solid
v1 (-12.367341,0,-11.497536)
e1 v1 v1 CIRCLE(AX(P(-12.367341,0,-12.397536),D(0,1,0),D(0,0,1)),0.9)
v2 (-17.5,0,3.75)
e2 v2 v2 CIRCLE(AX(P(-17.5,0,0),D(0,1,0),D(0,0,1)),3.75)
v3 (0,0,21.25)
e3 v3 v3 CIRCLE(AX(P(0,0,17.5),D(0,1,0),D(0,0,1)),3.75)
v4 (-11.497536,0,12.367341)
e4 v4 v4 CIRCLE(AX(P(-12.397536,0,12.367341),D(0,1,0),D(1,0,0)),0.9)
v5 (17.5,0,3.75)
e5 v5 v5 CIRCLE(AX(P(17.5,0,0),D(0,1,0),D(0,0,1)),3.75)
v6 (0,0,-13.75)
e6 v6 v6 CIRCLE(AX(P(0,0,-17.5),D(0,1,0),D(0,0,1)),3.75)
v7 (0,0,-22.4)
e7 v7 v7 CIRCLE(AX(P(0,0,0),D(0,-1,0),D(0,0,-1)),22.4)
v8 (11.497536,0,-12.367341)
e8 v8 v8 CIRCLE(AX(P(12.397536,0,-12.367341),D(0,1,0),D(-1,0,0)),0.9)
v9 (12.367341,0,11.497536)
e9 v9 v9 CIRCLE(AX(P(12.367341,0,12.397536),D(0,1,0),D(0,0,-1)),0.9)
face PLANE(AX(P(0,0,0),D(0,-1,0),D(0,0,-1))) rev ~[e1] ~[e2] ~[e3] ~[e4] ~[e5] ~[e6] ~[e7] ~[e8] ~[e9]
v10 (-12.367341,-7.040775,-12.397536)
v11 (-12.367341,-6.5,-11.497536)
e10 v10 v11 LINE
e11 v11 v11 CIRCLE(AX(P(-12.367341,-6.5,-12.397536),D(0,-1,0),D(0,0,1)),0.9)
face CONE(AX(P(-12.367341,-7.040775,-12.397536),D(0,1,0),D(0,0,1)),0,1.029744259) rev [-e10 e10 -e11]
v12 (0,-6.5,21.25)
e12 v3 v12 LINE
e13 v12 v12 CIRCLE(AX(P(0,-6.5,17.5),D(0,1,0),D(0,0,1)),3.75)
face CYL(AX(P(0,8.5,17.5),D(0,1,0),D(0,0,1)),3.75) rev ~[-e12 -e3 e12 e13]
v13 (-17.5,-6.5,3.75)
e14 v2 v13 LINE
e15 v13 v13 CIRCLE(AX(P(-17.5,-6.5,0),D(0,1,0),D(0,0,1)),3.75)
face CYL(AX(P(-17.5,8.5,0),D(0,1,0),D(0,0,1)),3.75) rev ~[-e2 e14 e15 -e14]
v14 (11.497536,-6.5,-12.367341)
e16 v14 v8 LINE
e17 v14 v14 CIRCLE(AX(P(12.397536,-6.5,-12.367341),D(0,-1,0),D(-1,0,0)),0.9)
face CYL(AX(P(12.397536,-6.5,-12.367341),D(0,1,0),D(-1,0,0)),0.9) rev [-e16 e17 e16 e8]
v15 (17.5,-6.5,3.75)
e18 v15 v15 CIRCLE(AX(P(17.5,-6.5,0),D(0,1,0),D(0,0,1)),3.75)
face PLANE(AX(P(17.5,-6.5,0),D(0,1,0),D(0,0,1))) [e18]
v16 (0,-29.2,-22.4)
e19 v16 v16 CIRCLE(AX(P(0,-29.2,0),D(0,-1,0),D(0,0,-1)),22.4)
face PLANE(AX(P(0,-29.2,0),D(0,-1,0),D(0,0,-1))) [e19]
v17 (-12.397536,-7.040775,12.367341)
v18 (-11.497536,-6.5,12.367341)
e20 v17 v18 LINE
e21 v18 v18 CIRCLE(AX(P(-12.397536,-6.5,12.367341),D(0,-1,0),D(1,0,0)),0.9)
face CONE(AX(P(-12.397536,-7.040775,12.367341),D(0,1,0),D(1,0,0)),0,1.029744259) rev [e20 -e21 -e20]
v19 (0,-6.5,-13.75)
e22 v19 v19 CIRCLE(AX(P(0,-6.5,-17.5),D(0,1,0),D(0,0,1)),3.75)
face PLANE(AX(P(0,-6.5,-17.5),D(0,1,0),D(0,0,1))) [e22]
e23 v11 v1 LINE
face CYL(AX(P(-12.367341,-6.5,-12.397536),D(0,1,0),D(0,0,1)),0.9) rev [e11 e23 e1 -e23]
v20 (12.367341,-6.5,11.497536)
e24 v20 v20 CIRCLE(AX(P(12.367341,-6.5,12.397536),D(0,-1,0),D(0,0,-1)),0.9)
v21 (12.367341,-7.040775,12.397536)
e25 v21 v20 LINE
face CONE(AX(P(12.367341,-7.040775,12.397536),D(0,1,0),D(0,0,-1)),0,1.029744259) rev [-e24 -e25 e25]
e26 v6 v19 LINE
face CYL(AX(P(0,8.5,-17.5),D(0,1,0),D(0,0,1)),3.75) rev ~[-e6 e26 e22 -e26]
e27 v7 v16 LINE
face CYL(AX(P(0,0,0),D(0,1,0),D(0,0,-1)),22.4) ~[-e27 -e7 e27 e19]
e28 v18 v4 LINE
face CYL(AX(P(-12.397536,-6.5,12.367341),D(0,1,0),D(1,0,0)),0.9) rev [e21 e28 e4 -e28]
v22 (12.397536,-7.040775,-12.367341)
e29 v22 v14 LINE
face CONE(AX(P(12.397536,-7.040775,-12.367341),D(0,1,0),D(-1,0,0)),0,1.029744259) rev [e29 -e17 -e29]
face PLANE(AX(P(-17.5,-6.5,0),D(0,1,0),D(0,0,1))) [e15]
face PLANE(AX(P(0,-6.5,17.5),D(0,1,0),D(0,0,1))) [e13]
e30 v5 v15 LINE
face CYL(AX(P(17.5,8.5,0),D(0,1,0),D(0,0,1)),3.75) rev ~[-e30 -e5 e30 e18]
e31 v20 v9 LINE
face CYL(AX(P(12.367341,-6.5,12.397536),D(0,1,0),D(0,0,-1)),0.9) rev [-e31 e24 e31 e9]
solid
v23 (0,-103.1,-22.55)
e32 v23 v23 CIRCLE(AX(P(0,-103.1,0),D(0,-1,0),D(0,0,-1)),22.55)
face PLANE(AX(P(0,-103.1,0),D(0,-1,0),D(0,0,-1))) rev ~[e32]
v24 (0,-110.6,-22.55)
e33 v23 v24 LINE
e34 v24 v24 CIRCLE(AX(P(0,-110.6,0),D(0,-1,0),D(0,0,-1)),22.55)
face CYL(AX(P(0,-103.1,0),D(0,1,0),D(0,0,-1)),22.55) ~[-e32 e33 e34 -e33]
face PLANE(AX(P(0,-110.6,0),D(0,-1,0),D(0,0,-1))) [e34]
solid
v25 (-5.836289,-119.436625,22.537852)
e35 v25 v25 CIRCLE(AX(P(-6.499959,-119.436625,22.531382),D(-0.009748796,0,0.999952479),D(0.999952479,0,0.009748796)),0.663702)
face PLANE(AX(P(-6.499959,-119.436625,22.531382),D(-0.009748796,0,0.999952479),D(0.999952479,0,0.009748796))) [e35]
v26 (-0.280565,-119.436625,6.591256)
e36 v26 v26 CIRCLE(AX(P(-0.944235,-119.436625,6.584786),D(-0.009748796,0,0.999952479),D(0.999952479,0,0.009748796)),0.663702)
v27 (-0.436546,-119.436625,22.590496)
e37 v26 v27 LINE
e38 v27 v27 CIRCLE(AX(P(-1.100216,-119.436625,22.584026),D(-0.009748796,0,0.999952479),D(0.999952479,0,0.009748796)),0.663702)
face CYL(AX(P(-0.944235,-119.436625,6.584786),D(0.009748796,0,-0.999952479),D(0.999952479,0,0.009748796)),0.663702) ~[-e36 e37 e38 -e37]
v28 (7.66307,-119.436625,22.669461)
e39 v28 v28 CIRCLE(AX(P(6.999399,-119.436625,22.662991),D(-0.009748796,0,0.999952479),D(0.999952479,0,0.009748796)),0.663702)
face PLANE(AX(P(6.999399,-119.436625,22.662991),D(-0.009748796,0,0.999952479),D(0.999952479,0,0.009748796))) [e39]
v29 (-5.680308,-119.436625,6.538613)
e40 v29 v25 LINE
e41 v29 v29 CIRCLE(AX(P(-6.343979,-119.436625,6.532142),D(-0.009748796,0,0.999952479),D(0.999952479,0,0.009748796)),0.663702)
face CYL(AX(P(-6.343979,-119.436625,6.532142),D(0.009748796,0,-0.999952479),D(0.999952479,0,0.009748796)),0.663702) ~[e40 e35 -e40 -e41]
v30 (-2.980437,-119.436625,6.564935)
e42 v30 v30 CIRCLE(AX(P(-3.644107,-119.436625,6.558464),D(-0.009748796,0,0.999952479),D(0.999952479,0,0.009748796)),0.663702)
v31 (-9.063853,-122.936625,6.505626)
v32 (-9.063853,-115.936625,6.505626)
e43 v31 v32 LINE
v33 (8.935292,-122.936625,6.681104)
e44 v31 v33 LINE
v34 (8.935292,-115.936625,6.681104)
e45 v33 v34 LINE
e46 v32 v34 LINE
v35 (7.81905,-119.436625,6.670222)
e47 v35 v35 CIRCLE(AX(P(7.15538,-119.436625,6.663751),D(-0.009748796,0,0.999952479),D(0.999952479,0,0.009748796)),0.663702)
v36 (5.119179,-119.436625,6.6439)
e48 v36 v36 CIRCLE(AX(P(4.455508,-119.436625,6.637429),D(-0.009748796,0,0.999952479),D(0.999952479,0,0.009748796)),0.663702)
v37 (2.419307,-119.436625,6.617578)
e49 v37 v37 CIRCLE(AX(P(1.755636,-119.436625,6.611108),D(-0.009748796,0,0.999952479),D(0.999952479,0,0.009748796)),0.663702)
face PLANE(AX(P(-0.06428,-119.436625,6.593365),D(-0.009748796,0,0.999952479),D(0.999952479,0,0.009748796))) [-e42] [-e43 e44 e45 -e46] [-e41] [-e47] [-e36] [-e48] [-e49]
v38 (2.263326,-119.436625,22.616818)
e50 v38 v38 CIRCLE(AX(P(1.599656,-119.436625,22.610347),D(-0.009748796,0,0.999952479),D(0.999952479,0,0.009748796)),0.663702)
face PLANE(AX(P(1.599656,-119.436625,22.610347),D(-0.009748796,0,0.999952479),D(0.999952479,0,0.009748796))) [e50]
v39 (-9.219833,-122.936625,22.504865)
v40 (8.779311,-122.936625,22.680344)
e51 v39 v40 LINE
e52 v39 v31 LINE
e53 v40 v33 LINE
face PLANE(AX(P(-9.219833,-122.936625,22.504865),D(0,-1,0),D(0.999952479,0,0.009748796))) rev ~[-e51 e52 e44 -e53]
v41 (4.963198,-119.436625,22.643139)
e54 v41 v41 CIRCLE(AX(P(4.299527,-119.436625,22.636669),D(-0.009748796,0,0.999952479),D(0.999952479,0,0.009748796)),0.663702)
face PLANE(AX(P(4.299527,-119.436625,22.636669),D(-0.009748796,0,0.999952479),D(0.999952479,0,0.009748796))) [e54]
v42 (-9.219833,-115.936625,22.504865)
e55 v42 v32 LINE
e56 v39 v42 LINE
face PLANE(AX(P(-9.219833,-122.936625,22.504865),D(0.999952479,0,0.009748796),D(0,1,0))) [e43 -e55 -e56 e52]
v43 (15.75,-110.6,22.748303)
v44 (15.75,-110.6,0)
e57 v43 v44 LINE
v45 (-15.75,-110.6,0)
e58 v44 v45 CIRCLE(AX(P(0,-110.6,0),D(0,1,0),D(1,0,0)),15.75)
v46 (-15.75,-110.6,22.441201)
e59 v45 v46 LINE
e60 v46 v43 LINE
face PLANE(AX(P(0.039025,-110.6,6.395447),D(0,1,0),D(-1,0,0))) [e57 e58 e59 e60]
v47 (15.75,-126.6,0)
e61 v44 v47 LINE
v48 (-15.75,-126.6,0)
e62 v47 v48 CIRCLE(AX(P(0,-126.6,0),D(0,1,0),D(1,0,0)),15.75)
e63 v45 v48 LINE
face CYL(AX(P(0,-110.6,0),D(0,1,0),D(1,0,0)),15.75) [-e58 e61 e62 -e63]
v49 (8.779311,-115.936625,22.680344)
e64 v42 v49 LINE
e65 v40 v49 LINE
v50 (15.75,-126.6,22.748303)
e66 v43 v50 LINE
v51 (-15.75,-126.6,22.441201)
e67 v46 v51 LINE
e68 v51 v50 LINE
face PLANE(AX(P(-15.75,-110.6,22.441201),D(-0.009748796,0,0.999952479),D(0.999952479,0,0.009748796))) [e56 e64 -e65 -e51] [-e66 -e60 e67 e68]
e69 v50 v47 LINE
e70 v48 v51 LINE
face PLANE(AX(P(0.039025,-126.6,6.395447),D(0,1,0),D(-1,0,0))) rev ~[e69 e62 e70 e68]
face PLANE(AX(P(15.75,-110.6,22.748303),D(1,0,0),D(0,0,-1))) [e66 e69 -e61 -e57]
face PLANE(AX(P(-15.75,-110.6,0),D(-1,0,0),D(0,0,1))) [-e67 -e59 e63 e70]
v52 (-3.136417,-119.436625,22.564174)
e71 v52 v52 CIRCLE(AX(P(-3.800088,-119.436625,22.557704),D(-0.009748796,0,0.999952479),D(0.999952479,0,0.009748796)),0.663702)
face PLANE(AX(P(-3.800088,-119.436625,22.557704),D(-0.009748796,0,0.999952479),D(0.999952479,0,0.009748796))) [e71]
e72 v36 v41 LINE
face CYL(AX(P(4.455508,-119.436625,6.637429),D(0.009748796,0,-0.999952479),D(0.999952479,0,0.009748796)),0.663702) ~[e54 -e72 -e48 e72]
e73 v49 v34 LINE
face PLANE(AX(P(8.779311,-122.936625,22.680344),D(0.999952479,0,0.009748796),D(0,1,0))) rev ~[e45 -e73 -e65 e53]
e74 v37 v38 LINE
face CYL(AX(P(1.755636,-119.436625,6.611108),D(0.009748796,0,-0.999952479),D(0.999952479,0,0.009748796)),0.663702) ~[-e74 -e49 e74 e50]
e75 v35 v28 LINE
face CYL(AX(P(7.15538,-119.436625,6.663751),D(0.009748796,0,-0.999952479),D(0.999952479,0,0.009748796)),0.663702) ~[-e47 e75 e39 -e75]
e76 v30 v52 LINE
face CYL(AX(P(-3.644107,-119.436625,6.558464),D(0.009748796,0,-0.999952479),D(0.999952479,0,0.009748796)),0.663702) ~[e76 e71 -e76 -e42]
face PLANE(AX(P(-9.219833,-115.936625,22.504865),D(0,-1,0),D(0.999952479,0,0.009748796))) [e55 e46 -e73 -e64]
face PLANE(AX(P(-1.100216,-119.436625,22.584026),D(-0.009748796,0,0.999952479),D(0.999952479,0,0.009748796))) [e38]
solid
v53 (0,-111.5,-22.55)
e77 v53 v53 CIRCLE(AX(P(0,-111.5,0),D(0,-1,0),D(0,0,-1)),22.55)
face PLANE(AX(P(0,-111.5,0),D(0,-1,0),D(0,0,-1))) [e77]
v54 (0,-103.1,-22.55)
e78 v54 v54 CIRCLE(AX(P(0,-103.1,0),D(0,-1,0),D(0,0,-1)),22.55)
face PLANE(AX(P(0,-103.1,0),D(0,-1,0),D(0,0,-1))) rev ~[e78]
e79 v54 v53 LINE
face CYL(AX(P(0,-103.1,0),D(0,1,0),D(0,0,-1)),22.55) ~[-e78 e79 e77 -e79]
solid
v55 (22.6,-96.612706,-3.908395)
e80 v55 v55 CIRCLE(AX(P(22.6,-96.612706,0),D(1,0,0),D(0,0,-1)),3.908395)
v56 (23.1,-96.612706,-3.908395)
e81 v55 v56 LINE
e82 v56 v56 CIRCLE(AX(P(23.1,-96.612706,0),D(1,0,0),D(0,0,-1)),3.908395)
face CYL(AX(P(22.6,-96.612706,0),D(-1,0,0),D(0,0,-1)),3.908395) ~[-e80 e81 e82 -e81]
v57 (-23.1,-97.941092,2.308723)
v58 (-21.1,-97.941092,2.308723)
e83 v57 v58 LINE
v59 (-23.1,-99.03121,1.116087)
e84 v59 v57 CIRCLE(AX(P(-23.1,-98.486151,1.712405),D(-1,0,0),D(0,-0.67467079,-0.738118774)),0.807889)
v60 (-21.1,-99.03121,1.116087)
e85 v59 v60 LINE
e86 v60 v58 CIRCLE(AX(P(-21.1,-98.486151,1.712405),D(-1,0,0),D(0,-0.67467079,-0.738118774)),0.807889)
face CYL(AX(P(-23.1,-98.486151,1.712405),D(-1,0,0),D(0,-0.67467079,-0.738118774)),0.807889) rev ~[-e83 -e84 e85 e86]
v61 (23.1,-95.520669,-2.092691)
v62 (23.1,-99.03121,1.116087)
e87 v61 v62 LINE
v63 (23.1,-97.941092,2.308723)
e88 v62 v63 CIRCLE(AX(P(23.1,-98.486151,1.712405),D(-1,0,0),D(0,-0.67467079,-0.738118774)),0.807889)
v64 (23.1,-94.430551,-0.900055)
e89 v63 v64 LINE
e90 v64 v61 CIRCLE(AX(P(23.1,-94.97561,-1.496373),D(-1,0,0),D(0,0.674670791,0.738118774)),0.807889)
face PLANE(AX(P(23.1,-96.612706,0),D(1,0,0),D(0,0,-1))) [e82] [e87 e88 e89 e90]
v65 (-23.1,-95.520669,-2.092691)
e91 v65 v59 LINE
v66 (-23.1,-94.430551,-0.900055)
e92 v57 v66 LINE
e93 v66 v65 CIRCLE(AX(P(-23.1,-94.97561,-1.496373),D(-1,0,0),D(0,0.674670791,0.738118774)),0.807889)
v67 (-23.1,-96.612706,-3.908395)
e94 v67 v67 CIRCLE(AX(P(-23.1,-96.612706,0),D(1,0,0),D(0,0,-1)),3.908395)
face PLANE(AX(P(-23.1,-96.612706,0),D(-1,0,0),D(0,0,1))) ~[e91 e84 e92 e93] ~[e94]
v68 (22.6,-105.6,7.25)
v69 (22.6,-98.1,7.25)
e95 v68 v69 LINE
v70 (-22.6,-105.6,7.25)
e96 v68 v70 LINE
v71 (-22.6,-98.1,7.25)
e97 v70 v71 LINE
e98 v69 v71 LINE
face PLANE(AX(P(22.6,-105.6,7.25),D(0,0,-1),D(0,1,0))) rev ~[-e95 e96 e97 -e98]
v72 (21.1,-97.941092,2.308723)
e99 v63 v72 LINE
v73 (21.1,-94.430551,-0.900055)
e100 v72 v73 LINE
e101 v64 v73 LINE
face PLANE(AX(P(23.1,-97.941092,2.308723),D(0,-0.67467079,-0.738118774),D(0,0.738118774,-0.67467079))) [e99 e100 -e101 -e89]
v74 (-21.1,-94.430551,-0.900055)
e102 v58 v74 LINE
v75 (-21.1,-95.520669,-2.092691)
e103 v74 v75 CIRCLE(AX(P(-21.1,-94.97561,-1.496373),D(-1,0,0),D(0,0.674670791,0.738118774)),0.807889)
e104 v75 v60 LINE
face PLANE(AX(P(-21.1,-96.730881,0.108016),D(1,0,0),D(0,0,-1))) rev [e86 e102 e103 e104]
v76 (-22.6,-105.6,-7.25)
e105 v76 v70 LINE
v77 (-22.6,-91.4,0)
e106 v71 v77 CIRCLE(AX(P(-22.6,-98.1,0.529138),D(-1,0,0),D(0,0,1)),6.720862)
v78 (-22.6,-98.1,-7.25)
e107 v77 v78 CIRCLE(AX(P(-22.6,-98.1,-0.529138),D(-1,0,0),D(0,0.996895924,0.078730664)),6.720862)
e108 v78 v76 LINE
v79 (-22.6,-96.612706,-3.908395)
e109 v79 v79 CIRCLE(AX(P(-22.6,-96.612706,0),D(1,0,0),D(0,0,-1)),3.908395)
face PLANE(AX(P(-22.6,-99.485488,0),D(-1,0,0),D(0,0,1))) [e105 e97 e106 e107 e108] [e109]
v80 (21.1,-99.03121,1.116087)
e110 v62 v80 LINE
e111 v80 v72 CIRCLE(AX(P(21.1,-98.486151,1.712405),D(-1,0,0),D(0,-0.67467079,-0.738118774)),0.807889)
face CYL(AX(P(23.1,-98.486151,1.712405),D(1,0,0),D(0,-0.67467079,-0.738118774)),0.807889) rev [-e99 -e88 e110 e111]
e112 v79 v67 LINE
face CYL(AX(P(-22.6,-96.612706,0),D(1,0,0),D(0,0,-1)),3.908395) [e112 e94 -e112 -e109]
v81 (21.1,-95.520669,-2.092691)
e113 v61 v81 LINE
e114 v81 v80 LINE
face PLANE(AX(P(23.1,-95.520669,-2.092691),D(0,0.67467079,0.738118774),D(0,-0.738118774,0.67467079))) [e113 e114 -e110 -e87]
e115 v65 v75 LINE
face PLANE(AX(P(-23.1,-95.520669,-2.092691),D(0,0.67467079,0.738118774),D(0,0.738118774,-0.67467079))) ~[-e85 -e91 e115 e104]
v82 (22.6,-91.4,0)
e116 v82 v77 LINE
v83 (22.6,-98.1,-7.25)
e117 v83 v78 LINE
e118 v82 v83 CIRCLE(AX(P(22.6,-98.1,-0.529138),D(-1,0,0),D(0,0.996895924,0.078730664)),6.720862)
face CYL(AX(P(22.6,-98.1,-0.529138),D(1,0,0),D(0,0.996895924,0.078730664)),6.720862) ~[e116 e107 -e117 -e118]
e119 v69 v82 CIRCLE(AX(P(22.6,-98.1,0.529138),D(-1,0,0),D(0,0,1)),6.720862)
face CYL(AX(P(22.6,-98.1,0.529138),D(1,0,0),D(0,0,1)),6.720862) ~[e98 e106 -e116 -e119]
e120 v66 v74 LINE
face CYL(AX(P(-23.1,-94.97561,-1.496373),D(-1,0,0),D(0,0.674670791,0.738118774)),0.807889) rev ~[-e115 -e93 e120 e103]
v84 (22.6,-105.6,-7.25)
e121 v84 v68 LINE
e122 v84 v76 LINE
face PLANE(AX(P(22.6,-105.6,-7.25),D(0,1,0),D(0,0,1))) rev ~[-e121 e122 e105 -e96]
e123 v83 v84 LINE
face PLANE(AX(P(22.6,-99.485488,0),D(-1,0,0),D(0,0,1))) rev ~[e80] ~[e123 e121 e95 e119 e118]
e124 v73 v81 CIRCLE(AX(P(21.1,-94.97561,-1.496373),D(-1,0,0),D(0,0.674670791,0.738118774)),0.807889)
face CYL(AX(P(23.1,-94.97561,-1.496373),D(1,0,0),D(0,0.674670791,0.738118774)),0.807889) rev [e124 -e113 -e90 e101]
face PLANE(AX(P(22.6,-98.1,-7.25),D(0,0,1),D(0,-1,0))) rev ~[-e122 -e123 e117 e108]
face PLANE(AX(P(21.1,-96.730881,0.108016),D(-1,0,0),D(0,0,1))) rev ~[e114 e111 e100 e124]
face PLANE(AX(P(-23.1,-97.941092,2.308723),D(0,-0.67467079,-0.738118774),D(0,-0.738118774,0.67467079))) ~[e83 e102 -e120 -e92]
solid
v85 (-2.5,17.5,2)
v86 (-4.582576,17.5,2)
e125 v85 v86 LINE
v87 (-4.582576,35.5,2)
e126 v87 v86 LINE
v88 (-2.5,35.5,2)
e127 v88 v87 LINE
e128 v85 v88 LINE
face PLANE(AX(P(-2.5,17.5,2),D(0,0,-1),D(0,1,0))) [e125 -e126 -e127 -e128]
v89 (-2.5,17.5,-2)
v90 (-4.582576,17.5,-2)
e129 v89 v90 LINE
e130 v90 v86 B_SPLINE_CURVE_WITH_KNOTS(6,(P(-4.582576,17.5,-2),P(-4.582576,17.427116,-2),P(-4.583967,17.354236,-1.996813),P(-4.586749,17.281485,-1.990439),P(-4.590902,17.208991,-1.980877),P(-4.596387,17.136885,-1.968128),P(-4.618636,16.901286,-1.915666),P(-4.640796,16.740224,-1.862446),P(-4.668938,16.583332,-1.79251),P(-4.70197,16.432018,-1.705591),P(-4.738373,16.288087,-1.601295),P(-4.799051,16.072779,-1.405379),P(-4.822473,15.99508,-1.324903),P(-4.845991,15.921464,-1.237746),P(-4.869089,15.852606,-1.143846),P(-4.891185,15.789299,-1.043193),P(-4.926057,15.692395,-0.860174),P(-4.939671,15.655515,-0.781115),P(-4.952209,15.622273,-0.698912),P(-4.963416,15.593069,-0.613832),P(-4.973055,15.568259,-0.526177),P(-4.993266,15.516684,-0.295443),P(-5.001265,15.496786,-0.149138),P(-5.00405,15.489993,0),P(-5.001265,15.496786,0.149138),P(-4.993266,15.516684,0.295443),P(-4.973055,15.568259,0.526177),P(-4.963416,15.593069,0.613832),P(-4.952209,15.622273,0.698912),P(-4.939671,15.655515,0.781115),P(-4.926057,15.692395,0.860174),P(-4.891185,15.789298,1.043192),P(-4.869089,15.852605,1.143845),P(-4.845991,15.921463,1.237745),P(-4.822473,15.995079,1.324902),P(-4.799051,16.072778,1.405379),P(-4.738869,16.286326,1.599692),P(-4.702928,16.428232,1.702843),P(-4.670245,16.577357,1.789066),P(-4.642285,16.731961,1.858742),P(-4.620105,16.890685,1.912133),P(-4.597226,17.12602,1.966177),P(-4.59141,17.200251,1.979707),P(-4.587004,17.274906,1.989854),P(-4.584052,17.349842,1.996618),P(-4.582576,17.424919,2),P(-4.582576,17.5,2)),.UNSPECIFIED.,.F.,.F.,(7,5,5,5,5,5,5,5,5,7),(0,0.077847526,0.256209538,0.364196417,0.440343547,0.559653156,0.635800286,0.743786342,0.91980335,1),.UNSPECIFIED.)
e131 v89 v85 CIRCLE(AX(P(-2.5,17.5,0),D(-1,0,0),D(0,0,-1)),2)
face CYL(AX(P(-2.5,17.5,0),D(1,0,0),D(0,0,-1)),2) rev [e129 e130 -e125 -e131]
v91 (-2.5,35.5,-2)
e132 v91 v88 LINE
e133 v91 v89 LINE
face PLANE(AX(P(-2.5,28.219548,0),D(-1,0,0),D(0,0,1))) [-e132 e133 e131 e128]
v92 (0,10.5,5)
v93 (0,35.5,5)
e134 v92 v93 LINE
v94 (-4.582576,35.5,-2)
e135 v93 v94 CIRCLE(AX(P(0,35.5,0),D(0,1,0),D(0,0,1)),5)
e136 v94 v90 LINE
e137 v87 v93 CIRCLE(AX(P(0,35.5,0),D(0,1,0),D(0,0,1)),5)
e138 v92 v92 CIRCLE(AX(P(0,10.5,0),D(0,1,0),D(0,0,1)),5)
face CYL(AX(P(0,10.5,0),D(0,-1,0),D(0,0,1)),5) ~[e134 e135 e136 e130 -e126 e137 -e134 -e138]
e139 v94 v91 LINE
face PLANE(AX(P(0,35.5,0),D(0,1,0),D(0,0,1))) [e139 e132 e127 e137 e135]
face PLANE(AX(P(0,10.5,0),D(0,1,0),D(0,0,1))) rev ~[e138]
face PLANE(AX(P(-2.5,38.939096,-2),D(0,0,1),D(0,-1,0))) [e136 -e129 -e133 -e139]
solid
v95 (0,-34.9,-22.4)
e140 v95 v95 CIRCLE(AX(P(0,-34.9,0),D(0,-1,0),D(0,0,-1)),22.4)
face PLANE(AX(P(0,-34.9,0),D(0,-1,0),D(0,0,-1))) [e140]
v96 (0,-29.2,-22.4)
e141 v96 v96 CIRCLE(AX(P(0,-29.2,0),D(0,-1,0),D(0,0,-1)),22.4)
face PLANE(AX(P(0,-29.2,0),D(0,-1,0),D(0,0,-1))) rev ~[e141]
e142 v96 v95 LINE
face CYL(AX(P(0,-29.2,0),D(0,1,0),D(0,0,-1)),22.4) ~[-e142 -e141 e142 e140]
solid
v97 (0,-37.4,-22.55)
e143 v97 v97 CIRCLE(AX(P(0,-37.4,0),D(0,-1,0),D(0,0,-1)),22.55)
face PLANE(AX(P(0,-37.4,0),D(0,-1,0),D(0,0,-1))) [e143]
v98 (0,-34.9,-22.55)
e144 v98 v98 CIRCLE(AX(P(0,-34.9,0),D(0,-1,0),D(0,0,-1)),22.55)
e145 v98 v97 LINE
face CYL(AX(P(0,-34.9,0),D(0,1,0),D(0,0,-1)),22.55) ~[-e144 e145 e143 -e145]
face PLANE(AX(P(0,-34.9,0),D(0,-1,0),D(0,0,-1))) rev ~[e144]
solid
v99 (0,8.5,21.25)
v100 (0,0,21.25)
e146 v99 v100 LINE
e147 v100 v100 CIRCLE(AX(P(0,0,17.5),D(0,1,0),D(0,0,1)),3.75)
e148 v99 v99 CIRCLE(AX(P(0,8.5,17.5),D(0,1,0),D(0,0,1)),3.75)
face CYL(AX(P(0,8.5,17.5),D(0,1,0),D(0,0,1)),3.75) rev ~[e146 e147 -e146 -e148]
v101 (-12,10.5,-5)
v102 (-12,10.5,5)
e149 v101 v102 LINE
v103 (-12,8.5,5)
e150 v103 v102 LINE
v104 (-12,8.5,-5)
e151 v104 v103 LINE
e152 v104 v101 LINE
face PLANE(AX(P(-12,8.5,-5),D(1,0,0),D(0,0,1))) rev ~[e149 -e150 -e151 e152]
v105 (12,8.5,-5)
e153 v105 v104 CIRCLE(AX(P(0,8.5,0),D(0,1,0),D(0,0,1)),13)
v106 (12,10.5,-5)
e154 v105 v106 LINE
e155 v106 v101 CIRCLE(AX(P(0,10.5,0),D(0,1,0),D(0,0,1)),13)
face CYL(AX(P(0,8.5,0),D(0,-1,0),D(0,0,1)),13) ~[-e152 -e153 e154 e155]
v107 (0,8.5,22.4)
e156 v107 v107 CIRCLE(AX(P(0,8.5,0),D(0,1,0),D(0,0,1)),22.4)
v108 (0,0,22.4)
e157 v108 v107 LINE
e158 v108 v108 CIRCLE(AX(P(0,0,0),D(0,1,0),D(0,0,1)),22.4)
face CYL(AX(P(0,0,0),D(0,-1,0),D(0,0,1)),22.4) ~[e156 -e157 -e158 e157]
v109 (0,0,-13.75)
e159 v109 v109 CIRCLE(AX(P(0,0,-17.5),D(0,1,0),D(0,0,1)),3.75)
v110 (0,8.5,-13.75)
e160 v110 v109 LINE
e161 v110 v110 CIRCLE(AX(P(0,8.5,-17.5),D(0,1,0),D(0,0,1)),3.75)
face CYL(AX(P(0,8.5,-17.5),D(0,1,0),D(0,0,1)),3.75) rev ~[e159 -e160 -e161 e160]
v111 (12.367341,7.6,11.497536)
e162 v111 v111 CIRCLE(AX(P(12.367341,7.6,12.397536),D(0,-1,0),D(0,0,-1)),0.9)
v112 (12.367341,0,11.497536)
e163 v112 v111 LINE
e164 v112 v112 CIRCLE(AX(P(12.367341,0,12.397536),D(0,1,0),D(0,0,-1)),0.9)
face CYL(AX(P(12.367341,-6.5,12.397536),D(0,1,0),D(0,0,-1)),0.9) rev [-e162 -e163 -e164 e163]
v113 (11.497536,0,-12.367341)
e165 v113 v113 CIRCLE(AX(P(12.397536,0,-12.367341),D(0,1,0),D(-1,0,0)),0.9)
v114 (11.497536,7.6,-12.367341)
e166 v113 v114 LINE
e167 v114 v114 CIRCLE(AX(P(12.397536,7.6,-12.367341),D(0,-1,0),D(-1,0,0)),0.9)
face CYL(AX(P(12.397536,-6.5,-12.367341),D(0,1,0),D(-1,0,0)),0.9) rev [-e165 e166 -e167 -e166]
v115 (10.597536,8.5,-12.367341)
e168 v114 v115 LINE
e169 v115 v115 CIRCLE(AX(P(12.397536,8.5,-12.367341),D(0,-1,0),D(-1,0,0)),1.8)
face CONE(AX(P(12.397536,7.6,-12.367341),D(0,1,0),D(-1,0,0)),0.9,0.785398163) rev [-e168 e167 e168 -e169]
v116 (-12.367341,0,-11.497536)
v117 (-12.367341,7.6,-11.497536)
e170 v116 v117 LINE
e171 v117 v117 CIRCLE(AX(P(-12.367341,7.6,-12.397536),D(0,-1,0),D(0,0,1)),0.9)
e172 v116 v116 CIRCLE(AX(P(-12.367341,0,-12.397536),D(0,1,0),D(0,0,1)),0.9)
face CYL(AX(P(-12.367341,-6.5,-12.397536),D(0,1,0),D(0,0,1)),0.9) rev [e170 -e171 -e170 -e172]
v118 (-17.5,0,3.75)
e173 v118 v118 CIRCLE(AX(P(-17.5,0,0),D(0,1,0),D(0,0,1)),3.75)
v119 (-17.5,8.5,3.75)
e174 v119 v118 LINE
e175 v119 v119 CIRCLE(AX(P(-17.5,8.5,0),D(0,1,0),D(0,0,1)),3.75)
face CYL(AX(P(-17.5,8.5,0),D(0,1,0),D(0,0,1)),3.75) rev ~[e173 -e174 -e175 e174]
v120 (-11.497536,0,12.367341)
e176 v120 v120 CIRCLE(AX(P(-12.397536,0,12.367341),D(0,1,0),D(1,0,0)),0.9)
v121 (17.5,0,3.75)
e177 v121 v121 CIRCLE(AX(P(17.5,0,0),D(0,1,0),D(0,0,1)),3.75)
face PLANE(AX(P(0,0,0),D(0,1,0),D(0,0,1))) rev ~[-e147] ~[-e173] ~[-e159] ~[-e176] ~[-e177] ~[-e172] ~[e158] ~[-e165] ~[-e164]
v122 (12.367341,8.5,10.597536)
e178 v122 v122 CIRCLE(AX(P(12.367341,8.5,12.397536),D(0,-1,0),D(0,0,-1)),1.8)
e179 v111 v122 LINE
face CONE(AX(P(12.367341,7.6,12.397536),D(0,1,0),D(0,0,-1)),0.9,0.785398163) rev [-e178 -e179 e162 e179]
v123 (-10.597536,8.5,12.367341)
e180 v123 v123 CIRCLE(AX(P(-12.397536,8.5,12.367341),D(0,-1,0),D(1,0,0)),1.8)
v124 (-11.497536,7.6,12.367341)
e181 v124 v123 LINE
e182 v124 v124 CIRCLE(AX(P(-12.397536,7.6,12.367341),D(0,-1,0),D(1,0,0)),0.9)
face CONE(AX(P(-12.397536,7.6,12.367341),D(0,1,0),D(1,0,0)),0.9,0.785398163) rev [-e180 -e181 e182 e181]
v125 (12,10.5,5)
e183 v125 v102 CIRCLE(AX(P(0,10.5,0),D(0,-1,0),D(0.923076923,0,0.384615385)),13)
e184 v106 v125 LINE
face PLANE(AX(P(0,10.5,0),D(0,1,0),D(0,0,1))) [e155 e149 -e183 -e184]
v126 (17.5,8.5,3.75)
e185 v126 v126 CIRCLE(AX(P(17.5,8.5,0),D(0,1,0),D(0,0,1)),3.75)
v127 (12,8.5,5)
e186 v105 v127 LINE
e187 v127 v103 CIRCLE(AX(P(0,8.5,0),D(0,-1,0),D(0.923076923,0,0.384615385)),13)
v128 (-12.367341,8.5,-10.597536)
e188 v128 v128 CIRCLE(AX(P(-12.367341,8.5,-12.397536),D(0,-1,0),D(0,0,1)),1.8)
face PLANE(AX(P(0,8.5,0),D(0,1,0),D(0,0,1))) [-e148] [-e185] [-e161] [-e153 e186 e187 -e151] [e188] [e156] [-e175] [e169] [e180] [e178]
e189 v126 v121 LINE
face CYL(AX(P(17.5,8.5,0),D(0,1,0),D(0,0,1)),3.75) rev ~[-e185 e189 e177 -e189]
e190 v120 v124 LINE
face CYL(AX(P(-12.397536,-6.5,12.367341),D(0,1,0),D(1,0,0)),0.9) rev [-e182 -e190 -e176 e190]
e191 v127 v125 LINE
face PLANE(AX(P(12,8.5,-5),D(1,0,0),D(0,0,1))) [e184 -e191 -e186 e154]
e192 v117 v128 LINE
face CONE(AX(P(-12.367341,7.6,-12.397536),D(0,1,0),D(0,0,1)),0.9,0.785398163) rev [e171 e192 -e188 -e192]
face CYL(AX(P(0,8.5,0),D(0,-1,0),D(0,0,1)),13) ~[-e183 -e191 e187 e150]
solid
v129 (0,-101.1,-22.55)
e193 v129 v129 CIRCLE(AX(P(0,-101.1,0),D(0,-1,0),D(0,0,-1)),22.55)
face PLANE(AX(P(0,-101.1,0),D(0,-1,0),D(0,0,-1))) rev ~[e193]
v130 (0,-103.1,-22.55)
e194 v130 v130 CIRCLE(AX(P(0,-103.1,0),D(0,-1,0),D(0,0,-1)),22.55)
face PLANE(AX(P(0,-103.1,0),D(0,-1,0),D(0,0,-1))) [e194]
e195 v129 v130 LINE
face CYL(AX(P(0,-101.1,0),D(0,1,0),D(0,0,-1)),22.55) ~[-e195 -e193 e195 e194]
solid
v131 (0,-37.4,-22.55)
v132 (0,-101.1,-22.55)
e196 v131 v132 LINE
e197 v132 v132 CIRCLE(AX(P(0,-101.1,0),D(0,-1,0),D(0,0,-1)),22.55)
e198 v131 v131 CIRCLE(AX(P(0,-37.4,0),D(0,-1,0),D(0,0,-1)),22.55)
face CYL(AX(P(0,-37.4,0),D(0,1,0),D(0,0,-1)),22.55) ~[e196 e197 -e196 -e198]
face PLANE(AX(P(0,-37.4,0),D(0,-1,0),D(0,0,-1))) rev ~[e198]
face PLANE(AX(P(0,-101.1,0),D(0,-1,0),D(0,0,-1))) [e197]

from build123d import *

# Parameters (mm, degrees)
SKETCH1_R               = 22.4
BOSS_EXTRUDE1_DEPTH     = 8.5
SKETCH2_R               = 22.4
BOSS_EXTRUDE3_DEPTH     = 29.2
SKETCH3_R               = 22.4
BOSS_EXTRUDE4_DEPTH     = 5.7
SKETCH6_R               = 22.55
BOSS_EXTRUDE5_DEPTH     = 2.5
SKETCH7_R               = 22.55
BOSS_EXTRUDE6_DEPTH     = 63.7
SKETCH8_R               = 22.55
BOSS_EXTRUDE7_DEPTH     = 2
SKETCH9_R               = 22.55
BOSS_EXTRUDE8_DEPTH     = 8.4
SKETCH10_R              = 13
BOSS_EXTRUDE9_DEPTH     = 2
SKETCH17_R              = 22.55
BOSS_EXTRUDE11_DEPTH    = 7.5
SKETCH11_R              = 5
BOSS_EXTRUDE10_DEPTH    = 25
CUT_EXTRUDE1_REACH      = 120.471
CUT_EXTRUDE1_END_RADIUS = 5
CUT_EXTRUDE1_START      = -2.5
SKETCH13_R              = 3.75
CUT_EXTRUDE2_DEPTH      = 15
CIRPATTERN1_COUNT       = 4
CUT_EXTRUDE4_START      = -2
CUT_EXTRUDE4_DEPTH      = 2
BOSS_EXTRUDE12_DEPTH    = 45.2
SKETCH18_R              = 3.908395226
BOSS_EXTRUDE13_DEPTH    = 0.5
CUT_EXTRUDE5_DEPTH      = 2
BOSS_EXTRUDE15_DEPTH    = 16
SKETCH22_W              = 18
SKETCH22_H              = 7
CUT_EXTRUDE6_DEPTH      = 16
SKETCH23_R              = 0.663702
BOSS_EXTRUDE16_DEPTH    = 16


with BuildPart() as part:
    # Sketch1 → Boss-Extrude1 (new body)
    with BuildSketch(Plane(origin=(0, 0, 0), x_dir=(1, 0, 0), z_dir=(0, 1, 0))):
        with Locations(Location((0, 0, 0), (0, 0, 270))):
            Circle(SKETCH1_R)
    extrude(amount=BOSS_EXTRUDE1_DEPTH)

    # Sketch10 → Boss-Extrude9 (add)
    with BuildSketch(Plane(origin=(0, 8.5, 0), x_dir=(1, 0, 0), z_dir=(0, 1, 0))):
        with Locations(Location((0, 0, 0), (0, 0, 270))):
            Circle(SKETCH10_R)
    extrude(amount=BOSS_EXTRUDE9_DEPTH)


with BuildPart() as body_2:
    # Sketch2 → Boss-Extrude3 (new body)
    with BuildSketch(Plane.XZ):
        with Locations(Location((0, 0, 0), (0, 0, 270))):
            Circle(SKETCH2_R)
    extrude(amount=BOSS_EXTRUDE3_DEPTH)


with BuildPart() as body_3:
    # Sketch3 → Boss-Extrude4 (new body)
    with BuildSketch(Plane.XZ.offset(29.2)):
        with Locations(Location((0, 0, 0), (0, 0, 270))):
            Circle(SKETCH3_R)
    extrude(amount=BOSS_EXTRUDE4_DEPTH)


with BuildPart() as body_4:
    # Sketch6 → Boss-Extrude5 (new body)
    with BuildSketch(Plane.XZ.offset(34.9)):
        with Locations(Location((0, 0, 0), (0, 0, 270))):
            Circle(SKETCH6_R)
    extrude(amount=BOSS_EXTRUDE5_DEPTH)


with BuildPart() as body_5:
    # Sketch7 → Boss-Extrude6 (new body)
    with BuildSketch(Plane.XZ.offset(37.4)):
        with Locations(Location((0, 0, 0), (0, 0, 270))):
            Circle(SKETCH7_R)
    extrude(amount=BOSS_EXTRUDE6_DEPTH)


with BuildPart() as body_6:
    # Sketch8 → Boss-Extrude7 (new body)
    with BuildSketch(Plane.XZ.offset(101.1)):
        with Locations(Location((0, 0, 0), (0, 0, 270))):
            Circle(SKETCH8_R)
    extrude(amount=BOSS_EXTRUDE7_DEPTH)


with BuildPart() as body_7:
    # Sketch9 → Boss-Extrude8 (new body)
    with BuildSketch(Plane.XZ.offset(103.1)):
        with Locations(Location((0, 0, 0), (0, 0, 270))):
            Circle(SKETCH9_R)
    extrude(amount=BOSS_EXTRUDE8_DEPTH)


with BuildPart() as body_8:
    # Sketch17 → Boss-Extrude11 (new body)
    with BuildSketch(Plane.XZ.offset(103.1)):
        with Locations(Location((0, 0, 0), (0, 0, 270))):
            Circle(SKETCH17_R)
    extrude(amount=BOSS_EXTRUDE11_DEPTH)


with BuildPart() as body_9:
    # Sketch11 → Boss-Extrude10 (new body)
    with BuildSketch(Plane(origin=(0, 10.5, 0), x_dir=(1, 0, 0), z_dir=(0, 1, 0))):
        with Locations(Location((0, 0, 0), (0, 0, 270))):
            Circle(SKETCH11_R)
    extrude(amount=BOSS_EXTRUDE10_DEPTH)

    # Cut-Extrude1: up to this cylinder (the profile starts inside it)
    cut_extrude1_end = Plane(origin=(0, 28.219548, 0), z_dir=(0, -1, 0)) * Cylinder(CUT_EXTRUDE1_END_RADIUS, 251.942, mode=Mode.PRIVATE)
    # Sketch12 → Cut-Extrude1 (cut, up to the surface)
    with BuildSketch(Plane(origin=(0, 0, 0), x_dir=(0, 0, -1), z_dir=(1, 0, 0)).offset(CUT_EXTRUDE1_START), mode=Mode.PRIVATE) as cut_extrude1_sk1:
        with BuildLine():
            Line((-2, 17.5), (-2, 38.939095555))
            ThreePointArc((-2, 38.939095555), (0, 40.939095555), (2, 38.939095555))
            Line((2, 38.939095555), (2, 17.5))
            ThreePointArc((2, 17.5), (0, 15.5), (-2, 17.5))
        make_face()
    cut_extrude1_tool1 = extrude(cut_extrude1_sk1.sketch, amount=-CUT_EXTRUDE1_REACH, mode=Mode.PRIVATE) & cut_extrude1_end
    add(cut_extrude1_tool1.solids().sort_by_distance((-2.5, 28.219548, 0))[0], mode=Mode.SUBTRACT)


with BuildPart() as cut_extrude2_tool:
    # Sketch13 → Cut-Extrude2 (new body)
    with BuildSketch(Plane(origin=(0, 8.5, 0), x_dir=(1, 0, 0), z_dir=(0, 1, 0))):
        with Locations(Location((0, 17.5, 0), (0, 0, 270))):
            Circle(SKETCH13_R)
        with Locations(Location((17.5, 0, 0), (0, 0, 270))):
            Circle(SKETCH13_R)
        with Locations(Location((0, -17.5, 0), (0, 0, 270))):
            Circle(SKETCH13_R)
        with Locations(Location((-17.5, 0, 0), (0, 0, 270))):
            Circle(SKETCH13_R)
    extrude(amount=-CUT_EXTRUDE2_DEPTH)


with BuildPart() as part_1:
    add(part.part)

    # Cut-Extrude2: cut by cut_extrude2_tool
    add(cut_extrude2_tool.part, mode=Mode.SUBTRACT)


with BuildPart() as body_2_1:
    add(body_2.part)

    # Cut-Extrude2: cut by cut_extrude2_tool
    add(cut_extrude2_tool.part, mode=Mode.SUBTRACT)


with BuildPart() as csk_for_m1_6_countersunk_flat_head_screw_tool:
    # Sketch14 → CSK for M1.6 Countersunk Flat Head Screw1 (revolve)
    with BuildSketch(Plane(origin=(-12.367340813, 8.5, -12.3975363), x_dir=(0, 0, 1), z_dir=(1, 0, 0))):
        Polygon((0, 0), (0, 15.540774557), (0.9, 15), (0.9, 0.9), (1.8, 0), align=None)
    csk_for_m1_6_countersunk_flat_head_screw = revolve(axis=Axis((-12.367340813, 14.85, -12.3975363), (0, -1, 0)))


with BuildPart() as part_2:
    add(part_1.part)

    # CSK for M1.6 Countersunk Flat Head Screw1: cut by csk_for_m1_6_countersunk_flat_head_screw_tool
    add(csk_for_m1_6_countersunk_flat_head_screw_tool.part, mode=Mode.SUBTRACT)


with BuildPart() as body_2_2:
    add(body_2_1.part)

    # CSK for M1.6 Countersunk Flat Head Screw1: cut by csk_for_m1_6_countersunk_flat_head_screw_tool
    add(csk_for_m1_6_countersunk_flat_head_screw_tool.part, mode=Mode.SUBTRACT)


with BuildPart() as cirpattern1_tool:
    # CirPattern1: CSK for M1.6 Countersunk Flat Head Screw1 ×4 about axis
    cirpattern1_axis = Axis((0, 0, 0), (0, 1, 0))
    for i in range(1, CIRPATTERN1_COUNT):
        add(csk_for_m1_6_countersunk_flat_head_screw.rotate(cirpattern1_axis, i * 360 / CIRPATTERN1_COUNT))


with BuildPart() as part_3:
    add(part_2.part)

    # CirPattern1: cut by cirpattern1_tool
    add(cirpattern1_tool.part, mode=Mode.SUBTRACT)

    # Sketch15 → Cut-Extrude4 (cut)
    with BuildSketch(Plane(origin=(0, 10.5, 0), x_dir=(1, 0, 0), z_dir=(0, 1, 0)).offset(CUT_EXTRUDE4_START)):
        with BuildLine():
            Line((-12, 5), (-12, -5))
            ThreePointArc((-12, -5), (-13, 0), (-12, 5))
        make_face()
        with BuildLine():
            Line((12, 5), (12, -5))
            ThreePointArc((12, -5), (13, 0), (12, 5))
        make_face()
    extrude(amount=CUT_EXTRUDE4_DEPTH, mode=Mode.SUBTRACT)


with BuildPart() as body_2_3:
    add(body_2_2.part)

    # CirPattern1: cut by cirpattern1_tool
    add(cirpattern1_tool.part, mode=Mode.SUBTRACT)


with BuildPart() as body_10:
    # Sketch16 → Boss-Extrude12 (new body)
    with BuildSketch(Plane(origin=(22.6, 0, 0), x_dir=(0, 0, -1), z_dir=(1, 0, 0))):
        with BuildLine():
            Line((-7.25, -105.6), (-7.25, -98.1))
            ThreePointArc((-7.25, -98.1), (-5.09059186, -93.16409836), (0, -91.4))
            ThreePointArc((0, -91.4), (5.09059186, -93.16409836), (7.25, -98.1))
            Line((7.25, -98.1), (7.25, -105.6))
            Line((7.25, -105.6), (-7.25, -105.6))
        make_face()
    extrude(amount=-BOSS_EXTRUDE12_DEPTH)

    # Sketch18 → Boss-Extrude13 (add)
    with BuildSketch(Plane(origin=(22.6, 0, 0), x_dir=(0, 0, -1), z_dir=(1, 0, 0))):
        with Locations((0, -96.612706452)):
            Circle(SKETCH18_R)
    boss_extrude13 = extrude(amount=BOSS_EXTRUDE13_DEPTH)

    # Sketch19 → Cut-Extrude5 (cut)
    with BuildSketch(Plane(origin=(23.1, 0, 0), x_dir=(0, 0, -1), z_dir=(1, 0, 0))):
        with BuildLine():
            Line((2.092690975, -95.520669405), (-1.11608692, -99.031210012))
            ThreePointArc((-1.11608692, -99.031210012), (-2.257464068, -99.08246894), (-2.308722996, -97.941091793))
            Line((-2.308722996, -97.941091793), (0.9000549, -94.430551185))
            ThreePointArc((0.9000549, -94.430551185), (2.041432047, -94.379292257), (2.092690975, -95.520669405))
        make_face()
    cut_extrude5 = extrude(amount=-CUT_EXTRUDE5_DEPTH, mode=Mode.SUBTRACT)

    # Mirror25: Boss-Extrude13 across plane
    add(boss_extrude13.mirror(Plane(origin=(0, 0, 0), x_dir=(0, 0, 1), z_dir=(1, 0, 0))))

    # Mirror25 2: Cut-Extrude5 across plane
    add(cut_extrude5.mirror(Plane(origin=(0, 0, 0), x_dir=(0, 0, 1), z_dir=(1, 0, 0))), mode=Mode.SUBTRACT)


with BuildPart() as body_11:
    # Sketch21 → Boss-Extrude15 (new body)
    with BuildSketch(Plane.XZ.offset(110.6)):
        with BuildLine():
            Line((-15.75, 0), (-15.75, 22.441201119))
            Line((-15.75, 22.441201119), (15.75, 22.748302789))
            Line((15.75, 22.748302789), (15.75, 0))
            ThreePointArc((15.75, 0), (0, -15.75), (-15.75, 0))
        make_face()
    extrude(amount=BOSS_EXTRUDE15_DEPTH)

    # Sketch22 → Cut-Extrude6 (cut)
    with BuildSketch(Plane(origin=(-0.220261162, 0, 22.592604571), x_dir=(0.9999524793583892, 0, 0.009748796080048956), z_dir=(-0.009748796080048958, 0, 0.9999524793583893))):
        with Locations((0, -119.436625019)):
            Rectangle(SKETCH22_W, SKETCH22_H)
    extrude(amount=-CUT_EXTRUDE6_DEPTH, mode=Mode.SUBTRACT)

    # Sketch23 → Boss-Extrude16 (add)
    with BuildSketch(Plane(origin=(-0.064280425, 0, 6.593364901), x_dir=(0.9999524793583892, 0, 0.009748796080049117), z_dir=(-0.009748796080049119, 0, 0.9999524793583893))):
        with Locations((7.220003325, -119.436625019)):
            Circle(SKETCH23_R)
        with Locations((4.520003325, -119.436625019)):
            Circle(SKETCH23_R)
        with Locations((1.820003325, -119.436625019)):
            Circle(SKETCH23_R)
        with Locations((-0.879996675, -119.436625019)):
            Circle(SKETCH23_R)
        with Locations((-3.579996675, -119.436625019)):
            Circle(SKETCH23_R)
        with Locations((-6.279996675, -119.436625019)):
            Circle(SKETCH23_R)
    extrude(amount=BOSS_EXTRUDE16_DEPTH)


solid = Compound([body_3.part, body_4.part, body_5.part, body_6.part, body_7.part, body_8.part, body_9.part, part_3.part, body_2_3.part, body_10.part, body_11.part])
